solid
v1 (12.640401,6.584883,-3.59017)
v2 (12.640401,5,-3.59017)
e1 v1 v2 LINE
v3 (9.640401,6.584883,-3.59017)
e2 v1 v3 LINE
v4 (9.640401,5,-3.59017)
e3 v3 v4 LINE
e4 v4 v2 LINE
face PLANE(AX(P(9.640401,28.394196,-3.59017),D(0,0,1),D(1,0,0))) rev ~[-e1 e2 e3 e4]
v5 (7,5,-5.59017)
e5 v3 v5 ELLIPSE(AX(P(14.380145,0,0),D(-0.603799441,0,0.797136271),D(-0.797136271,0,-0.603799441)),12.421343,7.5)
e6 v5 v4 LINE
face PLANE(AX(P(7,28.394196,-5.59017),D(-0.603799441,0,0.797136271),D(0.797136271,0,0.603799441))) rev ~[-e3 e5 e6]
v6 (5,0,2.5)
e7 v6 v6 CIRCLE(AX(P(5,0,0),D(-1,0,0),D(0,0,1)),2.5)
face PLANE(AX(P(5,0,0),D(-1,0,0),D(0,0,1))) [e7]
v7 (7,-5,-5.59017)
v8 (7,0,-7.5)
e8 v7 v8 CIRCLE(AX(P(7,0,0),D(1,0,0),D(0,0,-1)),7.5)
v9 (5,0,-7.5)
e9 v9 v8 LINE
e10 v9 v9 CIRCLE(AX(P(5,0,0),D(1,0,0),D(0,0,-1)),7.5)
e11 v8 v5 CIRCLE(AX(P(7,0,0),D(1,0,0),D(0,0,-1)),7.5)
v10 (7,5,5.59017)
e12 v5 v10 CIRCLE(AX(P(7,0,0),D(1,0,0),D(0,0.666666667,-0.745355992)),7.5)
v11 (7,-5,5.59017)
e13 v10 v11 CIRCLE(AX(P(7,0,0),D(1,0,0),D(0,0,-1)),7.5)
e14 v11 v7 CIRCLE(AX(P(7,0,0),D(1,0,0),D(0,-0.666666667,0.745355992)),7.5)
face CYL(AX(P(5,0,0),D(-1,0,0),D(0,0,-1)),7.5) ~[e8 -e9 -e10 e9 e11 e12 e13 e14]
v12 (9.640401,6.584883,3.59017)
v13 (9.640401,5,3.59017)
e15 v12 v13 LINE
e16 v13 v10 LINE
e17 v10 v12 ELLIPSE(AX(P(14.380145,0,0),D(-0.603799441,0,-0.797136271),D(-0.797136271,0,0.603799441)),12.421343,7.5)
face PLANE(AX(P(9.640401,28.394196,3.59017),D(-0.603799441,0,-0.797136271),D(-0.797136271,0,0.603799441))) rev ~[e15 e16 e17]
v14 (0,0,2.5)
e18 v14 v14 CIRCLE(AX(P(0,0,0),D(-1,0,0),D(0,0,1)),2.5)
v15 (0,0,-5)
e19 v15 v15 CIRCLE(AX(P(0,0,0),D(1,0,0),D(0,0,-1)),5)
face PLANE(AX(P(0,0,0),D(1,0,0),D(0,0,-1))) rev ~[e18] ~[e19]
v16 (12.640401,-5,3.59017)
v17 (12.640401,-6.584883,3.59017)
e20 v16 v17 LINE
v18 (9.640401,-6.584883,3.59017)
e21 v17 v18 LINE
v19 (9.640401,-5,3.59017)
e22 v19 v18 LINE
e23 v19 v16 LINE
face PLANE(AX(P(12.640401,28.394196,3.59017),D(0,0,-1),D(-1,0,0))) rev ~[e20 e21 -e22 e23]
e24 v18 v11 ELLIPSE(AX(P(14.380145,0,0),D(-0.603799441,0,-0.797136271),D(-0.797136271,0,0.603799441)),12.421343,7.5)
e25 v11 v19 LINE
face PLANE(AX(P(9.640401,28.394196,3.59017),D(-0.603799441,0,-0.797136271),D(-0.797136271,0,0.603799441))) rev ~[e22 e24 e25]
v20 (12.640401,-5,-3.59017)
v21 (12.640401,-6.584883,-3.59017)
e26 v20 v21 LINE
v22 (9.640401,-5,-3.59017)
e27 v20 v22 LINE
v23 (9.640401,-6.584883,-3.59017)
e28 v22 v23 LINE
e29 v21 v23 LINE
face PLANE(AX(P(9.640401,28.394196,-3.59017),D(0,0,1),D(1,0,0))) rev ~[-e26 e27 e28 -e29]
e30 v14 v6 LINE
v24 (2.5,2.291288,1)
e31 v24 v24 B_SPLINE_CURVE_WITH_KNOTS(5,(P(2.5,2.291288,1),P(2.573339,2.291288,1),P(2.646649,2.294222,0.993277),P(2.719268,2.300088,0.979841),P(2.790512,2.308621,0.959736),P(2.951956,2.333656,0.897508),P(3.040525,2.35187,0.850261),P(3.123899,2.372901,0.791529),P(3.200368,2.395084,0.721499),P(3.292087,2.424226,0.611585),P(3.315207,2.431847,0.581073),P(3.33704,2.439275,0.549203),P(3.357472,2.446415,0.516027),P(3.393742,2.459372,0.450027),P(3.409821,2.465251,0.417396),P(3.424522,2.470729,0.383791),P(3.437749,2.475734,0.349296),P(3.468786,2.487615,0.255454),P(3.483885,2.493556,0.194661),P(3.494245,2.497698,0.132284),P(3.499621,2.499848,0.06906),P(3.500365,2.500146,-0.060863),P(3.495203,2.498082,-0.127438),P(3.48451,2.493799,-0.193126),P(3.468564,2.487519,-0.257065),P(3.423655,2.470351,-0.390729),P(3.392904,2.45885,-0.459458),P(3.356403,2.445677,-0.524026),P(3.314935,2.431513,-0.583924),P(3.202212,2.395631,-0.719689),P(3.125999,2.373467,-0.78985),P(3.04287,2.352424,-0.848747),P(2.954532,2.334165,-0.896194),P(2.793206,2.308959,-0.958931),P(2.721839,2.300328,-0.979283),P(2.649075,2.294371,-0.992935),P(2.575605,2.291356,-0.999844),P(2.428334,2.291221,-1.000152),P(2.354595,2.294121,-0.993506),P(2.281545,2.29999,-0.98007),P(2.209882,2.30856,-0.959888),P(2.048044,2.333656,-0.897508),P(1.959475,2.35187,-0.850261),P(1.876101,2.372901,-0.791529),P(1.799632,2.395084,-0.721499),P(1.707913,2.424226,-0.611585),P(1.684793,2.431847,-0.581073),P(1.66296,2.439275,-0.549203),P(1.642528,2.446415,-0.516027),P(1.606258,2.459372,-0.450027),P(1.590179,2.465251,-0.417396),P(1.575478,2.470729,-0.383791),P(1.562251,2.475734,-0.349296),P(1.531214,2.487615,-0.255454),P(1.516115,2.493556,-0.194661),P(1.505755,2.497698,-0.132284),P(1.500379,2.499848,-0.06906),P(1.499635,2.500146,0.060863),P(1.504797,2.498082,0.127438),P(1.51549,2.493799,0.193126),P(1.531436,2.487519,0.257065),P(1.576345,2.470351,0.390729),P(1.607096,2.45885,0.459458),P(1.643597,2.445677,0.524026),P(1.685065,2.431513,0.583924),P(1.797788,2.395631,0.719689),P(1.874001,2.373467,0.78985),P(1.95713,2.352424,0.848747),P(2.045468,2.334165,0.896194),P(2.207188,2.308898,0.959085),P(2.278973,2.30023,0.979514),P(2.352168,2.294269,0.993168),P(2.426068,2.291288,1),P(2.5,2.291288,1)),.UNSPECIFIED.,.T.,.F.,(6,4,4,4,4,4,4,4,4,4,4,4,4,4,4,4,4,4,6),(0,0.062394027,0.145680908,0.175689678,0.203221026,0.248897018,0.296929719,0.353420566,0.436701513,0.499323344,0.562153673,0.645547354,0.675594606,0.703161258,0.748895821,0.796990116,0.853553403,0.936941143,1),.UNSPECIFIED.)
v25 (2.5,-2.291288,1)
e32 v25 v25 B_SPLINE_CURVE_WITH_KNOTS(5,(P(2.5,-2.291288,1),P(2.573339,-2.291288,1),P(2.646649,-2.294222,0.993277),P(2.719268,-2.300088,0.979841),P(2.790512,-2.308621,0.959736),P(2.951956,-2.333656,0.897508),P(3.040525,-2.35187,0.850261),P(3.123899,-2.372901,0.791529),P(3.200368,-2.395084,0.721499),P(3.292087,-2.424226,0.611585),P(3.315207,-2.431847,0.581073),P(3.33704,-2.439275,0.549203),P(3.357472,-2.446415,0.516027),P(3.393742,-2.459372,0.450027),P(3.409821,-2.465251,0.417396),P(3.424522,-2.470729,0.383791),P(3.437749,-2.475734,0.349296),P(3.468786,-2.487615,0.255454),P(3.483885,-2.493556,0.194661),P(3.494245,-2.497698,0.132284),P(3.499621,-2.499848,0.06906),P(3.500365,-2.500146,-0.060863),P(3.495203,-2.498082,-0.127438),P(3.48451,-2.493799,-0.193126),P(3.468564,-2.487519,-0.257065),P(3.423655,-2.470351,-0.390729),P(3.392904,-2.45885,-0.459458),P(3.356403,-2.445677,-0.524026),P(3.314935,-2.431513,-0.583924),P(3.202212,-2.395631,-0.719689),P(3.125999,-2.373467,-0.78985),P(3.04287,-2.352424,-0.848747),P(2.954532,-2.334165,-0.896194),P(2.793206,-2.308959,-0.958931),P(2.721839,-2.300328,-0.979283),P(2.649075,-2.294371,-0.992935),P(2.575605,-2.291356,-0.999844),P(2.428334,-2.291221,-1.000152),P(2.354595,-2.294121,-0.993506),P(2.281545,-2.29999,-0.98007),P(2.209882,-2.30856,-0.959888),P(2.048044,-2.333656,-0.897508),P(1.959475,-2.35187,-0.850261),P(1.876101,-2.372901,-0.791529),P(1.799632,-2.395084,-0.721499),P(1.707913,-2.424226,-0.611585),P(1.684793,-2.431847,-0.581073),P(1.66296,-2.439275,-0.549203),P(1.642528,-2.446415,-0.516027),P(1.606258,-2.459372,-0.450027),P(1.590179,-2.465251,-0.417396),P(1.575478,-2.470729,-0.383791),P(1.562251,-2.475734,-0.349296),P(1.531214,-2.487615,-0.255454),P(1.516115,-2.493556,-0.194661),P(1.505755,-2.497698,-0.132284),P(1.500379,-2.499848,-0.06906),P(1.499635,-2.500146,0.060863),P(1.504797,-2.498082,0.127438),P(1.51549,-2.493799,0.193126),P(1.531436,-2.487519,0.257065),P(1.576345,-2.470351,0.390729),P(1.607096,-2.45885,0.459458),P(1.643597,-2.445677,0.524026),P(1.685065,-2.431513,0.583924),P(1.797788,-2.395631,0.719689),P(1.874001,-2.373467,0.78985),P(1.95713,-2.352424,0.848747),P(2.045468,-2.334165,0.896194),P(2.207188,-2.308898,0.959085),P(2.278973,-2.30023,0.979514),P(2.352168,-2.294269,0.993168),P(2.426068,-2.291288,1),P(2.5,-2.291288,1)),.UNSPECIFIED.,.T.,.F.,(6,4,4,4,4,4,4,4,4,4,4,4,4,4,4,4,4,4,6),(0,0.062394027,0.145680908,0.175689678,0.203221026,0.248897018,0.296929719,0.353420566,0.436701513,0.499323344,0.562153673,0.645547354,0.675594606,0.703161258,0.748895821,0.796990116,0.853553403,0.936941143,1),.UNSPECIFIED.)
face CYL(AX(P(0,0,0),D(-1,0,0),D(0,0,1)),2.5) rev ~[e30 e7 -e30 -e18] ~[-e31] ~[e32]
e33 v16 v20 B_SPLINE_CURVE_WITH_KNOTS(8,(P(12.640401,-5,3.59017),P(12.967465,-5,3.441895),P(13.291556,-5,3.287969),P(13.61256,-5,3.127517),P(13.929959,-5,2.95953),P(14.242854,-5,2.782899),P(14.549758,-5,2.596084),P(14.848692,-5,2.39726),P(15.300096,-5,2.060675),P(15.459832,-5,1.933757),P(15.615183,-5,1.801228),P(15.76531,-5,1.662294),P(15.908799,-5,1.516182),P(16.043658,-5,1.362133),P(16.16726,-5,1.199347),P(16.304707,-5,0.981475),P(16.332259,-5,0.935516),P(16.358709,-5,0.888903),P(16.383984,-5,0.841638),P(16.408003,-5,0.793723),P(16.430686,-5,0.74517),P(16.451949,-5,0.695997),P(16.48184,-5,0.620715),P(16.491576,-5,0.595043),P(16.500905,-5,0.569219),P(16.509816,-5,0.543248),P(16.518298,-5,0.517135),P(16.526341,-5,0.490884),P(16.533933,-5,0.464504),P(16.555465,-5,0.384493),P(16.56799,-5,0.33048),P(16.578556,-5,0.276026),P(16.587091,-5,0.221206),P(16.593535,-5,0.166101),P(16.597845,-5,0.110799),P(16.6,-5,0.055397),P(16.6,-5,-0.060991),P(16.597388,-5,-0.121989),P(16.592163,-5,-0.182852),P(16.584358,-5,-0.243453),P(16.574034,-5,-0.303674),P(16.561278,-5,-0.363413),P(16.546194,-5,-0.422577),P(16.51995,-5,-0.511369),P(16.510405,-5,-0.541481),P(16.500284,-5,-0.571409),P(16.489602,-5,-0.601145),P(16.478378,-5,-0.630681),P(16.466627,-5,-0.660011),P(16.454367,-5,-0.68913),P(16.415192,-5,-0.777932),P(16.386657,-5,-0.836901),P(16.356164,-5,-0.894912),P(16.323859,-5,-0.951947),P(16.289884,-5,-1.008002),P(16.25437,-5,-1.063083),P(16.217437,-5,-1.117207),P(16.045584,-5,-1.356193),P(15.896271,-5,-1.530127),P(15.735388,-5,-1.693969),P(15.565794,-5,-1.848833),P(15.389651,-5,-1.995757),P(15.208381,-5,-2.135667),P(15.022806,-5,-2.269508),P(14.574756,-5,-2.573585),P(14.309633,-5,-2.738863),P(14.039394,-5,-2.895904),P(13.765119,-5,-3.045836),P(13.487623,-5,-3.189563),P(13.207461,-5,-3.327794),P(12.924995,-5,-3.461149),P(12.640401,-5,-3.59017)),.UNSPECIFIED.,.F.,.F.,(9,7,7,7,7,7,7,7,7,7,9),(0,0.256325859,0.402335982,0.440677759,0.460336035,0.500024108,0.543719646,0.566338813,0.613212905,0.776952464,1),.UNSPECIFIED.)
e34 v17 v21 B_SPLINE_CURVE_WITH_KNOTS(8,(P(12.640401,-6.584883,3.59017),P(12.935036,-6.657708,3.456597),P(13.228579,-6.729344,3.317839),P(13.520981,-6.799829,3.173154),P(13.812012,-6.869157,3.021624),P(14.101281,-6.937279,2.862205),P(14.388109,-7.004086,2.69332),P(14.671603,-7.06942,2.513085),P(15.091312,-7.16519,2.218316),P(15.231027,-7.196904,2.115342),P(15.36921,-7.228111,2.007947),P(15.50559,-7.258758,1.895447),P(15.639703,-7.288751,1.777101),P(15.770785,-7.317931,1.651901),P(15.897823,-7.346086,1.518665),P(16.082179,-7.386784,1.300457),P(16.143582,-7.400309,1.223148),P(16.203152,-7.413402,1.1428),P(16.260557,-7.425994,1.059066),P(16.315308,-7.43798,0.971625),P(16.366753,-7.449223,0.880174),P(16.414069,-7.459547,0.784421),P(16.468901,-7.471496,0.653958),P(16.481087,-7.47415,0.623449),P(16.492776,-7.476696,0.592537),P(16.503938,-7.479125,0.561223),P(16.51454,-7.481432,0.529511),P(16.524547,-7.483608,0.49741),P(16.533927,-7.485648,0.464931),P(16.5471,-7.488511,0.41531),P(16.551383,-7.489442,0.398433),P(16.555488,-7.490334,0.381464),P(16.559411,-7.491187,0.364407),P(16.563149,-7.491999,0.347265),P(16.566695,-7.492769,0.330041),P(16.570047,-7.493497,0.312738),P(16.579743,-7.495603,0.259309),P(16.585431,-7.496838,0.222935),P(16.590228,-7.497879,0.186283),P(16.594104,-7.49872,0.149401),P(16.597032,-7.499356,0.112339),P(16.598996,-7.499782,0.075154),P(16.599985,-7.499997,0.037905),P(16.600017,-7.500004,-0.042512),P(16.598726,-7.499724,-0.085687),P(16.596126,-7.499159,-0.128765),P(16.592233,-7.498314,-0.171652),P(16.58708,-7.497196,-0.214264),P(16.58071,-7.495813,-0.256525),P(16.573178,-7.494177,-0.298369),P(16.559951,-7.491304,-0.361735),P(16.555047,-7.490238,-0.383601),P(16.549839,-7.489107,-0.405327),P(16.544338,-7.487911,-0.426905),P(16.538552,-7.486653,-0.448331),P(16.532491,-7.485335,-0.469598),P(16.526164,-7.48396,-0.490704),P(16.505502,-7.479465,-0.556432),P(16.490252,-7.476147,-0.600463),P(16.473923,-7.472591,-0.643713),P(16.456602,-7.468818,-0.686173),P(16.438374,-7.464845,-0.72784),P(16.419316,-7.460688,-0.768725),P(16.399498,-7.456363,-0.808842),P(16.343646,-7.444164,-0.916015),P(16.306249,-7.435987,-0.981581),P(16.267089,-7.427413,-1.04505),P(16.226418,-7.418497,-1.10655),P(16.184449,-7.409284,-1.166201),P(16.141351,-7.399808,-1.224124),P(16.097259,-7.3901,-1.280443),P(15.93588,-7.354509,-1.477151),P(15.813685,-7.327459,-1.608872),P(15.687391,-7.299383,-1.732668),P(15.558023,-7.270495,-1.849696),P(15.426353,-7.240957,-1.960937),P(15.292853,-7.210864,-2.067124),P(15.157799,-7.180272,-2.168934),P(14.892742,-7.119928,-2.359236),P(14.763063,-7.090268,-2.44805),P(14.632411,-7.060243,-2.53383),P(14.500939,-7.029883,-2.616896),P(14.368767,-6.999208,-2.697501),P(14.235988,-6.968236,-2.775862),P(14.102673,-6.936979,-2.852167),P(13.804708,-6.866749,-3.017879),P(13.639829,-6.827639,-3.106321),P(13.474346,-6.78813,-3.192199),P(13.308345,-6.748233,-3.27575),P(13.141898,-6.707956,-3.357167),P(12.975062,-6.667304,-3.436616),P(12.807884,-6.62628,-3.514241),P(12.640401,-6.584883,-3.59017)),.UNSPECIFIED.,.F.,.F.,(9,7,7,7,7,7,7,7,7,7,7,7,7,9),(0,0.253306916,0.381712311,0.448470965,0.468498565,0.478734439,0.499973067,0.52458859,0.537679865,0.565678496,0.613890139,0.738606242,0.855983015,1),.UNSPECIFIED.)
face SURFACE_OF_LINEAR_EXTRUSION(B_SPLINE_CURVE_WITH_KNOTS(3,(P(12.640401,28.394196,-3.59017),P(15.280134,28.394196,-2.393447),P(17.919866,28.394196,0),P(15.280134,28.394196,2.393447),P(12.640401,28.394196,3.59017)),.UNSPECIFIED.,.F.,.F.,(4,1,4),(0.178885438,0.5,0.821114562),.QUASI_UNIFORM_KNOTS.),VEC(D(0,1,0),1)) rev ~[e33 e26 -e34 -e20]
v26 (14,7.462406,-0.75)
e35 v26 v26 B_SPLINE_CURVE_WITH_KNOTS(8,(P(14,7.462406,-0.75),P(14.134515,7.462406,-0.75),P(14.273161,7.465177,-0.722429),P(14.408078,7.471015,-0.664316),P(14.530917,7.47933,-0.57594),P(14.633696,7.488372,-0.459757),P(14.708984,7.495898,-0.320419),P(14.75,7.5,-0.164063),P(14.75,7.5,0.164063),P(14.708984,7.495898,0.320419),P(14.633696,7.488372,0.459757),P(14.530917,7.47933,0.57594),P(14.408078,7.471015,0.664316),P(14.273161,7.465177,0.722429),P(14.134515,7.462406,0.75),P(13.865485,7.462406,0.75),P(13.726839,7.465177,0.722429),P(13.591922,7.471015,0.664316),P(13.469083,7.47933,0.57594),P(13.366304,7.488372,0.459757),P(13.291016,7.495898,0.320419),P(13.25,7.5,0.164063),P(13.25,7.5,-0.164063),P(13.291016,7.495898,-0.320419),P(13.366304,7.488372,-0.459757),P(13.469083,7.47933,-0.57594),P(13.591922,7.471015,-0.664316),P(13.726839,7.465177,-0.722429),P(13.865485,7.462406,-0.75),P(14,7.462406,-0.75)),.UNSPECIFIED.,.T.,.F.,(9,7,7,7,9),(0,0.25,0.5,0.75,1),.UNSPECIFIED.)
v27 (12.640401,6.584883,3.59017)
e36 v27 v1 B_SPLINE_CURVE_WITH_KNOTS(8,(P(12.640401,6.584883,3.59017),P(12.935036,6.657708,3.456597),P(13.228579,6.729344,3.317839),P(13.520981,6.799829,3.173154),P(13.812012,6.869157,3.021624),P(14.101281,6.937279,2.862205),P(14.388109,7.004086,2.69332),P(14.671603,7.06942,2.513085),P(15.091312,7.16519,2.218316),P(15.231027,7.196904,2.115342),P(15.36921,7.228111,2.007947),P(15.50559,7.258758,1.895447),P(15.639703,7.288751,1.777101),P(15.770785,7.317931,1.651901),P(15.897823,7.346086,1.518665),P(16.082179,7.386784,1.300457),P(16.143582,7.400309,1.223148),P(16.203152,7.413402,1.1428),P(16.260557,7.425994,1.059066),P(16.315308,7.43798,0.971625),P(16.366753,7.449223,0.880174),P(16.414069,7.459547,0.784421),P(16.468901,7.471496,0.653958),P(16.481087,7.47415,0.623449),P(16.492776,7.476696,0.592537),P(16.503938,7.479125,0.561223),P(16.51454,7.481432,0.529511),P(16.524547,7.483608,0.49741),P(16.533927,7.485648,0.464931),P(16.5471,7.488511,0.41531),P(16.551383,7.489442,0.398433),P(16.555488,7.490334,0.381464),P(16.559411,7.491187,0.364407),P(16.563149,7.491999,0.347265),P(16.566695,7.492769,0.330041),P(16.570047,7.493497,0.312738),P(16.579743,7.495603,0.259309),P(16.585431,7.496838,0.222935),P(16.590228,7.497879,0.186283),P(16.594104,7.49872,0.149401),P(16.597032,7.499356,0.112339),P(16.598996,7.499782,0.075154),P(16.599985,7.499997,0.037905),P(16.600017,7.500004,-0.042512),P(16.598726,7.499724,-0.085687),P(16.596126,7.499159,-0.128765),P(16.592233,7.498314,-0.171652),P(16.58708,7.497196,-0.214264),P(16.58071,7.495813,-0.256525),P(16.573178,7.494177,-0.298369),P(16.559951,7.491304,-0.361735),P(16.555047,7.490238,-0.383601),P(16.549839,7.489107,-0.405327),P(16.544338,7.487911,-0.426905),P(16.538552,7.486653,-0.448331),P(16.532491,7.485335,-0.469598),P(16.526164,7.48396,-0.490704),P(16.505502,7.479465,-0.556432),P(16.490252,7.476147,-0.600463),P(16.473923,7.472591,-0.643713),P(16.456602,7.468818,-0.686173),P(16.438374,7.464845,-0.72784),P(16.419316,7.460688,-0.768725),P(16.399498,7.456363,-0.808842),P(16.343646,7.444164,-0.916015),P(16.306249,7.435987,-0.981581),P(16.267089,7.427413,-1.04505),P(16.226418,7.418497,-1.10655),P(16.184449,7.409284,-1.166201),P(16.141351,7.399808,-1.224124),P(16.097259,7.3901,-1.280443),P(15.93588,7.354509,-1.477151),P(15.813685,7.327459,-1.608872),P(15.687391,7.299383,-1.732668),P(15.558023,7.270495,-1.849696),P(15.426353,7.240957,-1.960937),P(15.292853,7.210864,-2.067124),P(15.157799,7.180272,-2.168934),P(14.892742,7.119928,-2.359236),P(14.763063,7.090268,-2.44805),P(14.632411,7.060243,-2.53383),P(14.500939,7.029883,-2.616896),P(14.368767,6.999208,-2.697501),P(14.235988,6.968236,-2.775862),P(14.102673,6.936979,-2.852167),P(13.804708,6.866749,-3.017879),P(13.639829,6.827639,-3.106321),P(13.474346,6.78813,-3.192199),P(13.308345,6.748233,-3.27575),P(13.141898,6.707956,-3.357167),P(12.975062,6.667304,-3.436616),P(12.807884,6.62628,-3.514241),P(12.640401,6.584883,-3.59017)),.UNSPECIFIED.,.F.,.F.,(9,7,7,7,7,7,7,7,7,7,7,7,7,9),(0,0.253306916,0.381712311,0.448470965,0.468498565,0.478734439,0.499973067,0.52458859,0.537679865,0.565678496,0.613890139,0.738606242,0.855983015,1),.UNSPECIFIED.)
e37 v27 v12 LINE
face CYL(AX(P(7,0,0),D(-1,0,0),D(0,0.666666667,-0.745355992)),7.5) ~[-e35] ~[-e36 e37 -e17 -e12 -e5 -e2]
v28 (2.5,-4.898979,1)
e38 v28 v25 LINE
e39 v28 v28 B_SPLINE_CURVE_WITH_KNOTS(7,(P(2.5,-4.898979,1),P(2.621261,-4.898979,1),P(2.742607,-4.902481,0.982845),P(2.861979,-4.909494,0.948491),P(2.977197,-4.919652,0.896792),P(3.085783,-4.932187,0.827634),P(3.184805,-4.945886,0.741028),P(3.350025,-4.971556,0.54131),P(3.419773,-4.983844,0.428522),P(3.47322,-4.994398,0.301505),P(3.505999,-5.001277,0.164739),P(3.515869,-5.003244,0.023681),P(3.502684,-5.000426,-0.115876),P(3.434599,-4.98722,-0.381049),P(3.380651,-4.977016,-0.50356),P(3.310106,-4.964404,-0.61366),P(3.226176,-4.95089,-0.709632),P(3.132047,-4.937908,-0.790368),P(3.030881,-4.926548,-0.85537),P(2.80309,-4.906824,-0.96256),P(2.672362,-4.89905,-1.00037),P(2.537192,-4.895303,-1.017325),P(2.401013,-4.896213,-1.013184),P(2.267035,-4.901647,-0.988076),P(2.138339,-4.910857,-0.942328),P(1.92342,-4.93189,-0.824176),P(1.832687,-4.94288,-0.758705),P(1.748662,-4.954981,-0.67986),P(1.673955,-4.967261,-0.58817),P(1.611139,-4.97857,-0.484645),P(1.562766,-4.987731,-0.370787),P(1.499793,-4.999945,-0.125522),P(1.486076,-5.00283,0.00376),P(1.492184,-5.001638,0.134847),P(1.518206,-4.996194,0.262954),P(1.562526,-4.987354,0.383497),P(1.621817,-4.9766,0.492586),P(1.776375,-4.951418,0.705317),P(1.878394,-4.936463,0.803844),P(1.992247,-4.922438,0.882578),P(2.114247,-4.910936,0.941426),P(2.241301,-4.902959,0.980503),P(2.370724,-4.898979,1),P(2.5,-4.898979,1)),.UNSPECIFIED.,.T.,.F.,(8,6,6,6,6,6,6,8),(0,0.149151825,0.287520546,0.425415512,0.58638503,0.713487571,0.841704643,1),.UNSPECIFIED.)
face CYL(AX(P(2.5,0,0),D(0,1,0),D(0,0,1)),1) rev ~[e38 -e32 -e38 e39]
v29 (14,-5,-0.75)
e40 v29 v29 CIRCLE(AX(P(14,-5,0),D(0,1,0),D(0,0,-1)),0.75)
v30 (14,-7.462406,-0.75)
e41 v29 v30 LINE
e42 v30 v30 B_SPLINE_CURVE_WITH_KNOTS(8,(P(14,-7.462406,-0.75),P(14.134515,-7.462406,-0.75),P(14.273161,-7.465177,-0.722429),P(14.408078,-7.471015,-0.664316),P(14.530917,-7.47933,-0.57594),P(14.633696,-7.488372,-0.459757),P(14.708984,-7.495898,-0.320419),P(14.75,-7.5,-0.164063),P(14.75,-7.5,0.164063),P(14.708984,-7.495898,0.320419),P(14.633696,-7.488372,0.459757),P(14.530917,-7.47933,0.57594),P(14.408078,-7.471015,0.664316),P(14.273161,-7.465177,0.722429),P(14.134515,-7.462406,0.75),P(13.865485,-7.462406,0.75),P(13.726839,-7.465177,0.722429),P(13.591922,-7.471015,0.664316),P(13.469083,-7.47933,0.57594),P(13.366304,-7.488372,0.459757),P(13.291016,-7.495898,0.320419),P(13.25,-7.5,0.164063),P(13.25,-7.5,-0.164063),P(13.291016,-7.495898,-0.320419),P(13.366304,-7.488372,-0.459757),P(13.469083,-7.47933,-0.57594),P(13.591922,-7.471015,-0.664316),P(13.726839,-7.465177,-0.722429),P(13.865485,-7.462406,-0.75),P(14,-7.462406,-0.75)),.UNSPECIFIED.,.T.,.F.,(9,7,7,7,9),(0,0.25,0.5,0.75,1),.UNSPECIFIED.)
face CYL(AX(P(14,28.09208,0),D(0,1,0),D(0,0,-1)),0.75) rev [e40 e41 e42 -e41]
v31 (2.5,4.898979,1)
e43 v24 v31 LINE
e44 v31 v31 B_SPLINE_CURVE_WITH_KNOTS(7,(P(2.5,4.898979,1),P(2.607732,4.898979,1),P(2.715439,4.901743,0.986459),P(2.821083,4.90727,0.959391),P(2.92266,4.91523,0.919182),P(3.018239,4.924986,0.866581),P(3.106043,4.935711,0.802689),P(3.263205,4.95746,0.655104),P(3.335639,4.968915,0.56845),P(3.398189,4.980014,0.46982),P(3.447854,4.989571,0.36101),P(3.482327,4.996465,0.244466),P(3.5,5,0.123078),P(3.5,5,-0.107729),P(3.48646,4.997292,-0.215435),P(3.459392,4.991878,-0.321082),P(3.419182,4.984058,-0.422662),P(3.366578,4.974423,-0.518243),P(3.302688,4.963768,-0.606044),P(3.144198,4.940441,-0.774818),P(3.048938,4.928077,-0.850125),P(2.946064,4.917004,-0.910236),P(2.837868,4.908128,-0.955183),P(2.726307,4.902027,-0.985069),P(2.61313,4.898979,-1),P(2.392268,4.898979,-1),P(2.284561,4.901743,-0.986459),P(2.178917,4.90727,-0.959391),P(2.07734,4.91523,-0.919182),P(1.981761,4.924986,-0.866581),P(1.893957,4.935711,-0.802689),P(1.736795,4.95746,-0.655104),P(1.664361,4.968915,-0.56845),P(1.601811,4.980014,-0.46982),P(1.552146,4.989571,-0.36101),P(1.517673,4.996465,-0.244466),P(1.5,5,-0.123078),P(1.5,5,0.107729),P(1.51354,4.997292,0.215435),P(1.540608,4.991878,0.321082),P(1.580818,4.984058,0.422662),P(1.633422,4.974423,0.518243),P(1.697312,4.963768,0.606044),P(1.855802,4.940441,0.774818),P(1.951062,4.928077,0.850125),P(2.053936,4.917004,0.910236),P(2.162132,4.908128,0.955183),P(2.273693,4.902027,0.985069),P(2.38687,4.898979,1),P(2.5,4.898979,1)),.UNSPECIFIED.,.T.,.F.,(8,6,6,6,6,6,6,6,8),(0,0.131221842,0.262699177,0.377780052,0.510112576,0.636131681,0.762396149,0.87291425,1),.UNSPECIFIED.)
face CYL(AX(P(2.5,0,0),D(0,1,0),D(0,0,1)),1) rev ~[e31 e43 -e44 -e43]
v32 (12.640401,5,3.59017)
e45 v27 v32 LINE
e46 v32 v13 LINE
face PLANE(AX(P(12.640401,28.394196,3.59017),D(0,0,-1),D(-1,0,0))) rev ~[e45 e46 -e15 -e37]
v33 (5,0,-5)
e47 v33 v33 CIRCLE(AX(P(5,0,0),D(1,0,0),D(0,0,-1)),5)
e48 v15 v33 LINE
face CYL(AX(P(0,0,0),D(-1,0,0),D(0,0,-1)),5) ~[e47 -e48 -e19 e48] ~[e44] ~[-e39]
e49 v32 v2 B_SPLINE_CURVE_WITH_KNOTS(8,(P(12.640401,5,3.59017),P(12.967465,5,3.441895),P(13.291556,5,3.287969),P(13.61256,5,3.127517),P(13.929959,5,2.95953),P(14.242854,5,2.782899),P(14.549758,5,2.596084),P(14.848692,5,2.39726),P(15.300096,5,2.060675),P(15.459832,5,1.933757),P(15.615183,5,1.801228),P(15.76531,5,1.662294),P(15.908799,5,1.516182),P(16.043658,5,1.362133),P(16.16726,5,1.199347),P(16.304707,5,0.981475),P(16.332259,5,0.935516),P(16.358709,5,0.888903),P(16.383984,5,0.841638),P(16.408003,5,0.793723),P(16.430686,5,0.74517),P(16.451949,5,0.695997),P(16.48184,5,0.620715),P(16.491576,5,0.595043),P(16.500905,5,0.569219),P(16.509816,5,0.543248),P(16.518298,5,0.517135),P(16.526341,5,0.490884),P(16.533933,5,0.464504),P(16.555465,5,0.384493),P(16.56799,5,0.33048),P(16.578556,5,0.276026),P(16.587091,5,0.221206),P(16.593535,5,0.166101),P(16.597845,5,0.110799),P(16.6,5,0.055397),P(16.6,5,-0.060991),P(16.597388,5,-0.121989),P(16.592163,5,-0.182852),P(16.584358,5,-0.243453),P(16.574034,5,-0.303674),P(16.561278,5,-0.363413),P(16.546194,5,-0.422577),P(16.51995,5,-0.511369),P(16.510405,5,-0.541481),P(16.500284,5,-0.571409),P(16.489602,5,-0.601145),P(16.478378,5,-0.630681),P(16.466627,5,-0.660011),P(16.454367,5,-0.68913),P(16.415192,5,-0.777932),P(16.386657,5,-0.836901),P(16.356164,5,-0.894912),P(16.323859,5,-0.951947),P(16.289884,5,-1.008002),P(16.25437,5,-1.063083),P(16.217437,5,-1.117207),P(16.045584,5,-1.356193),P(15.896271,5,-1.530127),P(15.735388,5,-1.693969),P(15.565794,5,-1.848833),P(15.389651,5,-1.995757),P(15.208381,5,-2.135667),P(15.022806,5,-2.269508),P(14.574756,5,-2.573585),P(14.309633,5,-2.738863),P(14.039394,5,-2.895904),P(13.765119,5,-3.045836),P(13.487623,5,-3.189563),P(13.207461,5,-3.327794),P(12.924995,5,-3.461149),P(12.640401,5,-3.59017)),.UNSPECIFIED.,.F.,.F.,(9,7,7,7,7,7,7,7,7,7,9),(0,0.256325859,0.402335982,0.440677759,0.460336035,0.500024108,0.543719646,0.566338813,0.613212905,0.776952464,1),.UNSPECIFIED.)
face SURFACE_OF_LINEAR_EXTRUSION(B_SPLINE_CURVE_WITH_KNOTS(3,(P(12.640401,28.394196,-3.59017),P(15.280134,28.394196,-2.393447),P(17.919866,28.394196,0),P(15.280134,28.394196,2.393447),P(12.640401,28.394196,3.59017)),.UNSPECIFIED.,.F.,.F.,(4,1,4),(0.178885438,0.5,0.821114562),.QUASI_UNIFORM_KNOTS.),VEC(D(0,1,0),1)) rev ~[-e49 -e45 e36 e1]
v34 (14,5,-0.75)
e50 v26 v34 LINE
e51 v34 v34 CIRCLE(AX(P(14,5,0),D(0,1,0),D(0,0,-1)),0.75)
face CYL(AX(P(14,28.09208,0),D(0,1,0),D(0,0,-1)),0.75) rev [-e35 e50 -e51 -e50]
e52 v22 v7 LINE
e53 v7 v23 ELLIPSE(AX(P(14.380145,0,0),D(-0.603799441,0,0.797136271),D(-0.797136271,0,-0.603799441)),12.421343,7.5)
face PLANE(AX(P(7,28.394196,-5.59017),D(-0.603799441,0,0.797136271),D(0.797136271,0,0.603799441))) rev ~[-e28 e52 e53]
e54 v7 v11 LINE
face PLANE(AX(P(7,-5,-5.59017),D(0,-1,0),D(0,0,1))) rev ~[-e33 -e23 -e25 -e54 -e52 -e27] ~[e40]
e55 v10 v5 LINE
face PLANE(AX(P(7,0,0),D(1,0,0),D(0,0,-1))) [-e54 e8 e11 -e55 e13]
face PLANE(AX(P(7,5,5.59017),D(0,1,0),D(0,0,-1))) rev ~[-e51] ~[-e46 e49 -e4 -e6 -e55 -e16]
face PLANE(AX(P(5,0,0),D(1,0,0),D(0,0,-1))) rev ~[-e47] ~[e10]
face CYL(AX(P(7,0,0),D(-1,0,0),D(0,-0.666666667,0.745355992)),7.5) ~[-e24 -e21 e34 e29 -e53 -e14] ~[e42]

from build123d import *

# Parameters (mm, degrees)
SKETCH1_R               = 5
BOSS_EXTRUDE1_DEPTH     = 5
SKETCH2_R               = 7.5
BOSS_EXTRUDE2_DEPTH     = 2
BOSS_EXTRUDE3_DEPTH     = 10
CUT_EXTRUDE1_DEPTH      = 23.394195677
CUT_EXTRUDE1_DEPTH_BACK = 23.394195677
CUT_EXTRUDE2_DEPTH      = 23.092080194
CUT_EXTRUDE2_DEPTH_BACK = 23.092080194
SKETCH5_R               = 0.75
SKETCH6_R               = 2.5
CUT_EXTRUDE3_DEPTH      = 5
SKETCH7_R               = 1
CUT_EXTRUDE4_DEPTH      = 10


with BuildPart() as part:
    # Sketch1 → Boss-Extrude1 (new body)
    with BuildSketch(Plane(origin=(0, 0, 0), x_dir=(0, 0, -1), z_dir=(1, 0, 0))):
        Circle(SKETCH1_R)
    extrude(amount=BOSS_EXTRUDE1_DEPTH)

    # Sketch2 → Boss-Extrude2 (add)
    with BuildSketch(Plane(origin=(5, 0, 0), x_dir=(0, 0, -1), z_dir=(1, 0, 0))):
        Circle(SKETCH2_R)
    extrude(amount=BOSS_EXTRUDE2_DEPTH)

    # Sketch3 → Boss-Extrude3 (add)
    with BuildSketch(Plane(origin=(7, 0, 0), x_dir=(0, 0, -1), z_dir=(1, 0, 0))):
        with BuildLine():
            ThreePointArc((5.590169944, 5), (0, 7.5), (-5.590169944, 5))
            Line((-5.590169944, 5), (-4.898979486, 5))
            Line((-4.898979486, 5), (4.898979486, 5))
            Line((4.898979486, 5), (5.590169944, 5))
        make_face()
        with BuildLine():
            Line((-4.898979486, -5), (-5.590169944, -5))
            ThreePointArc((-5.590169944, -5), (0, -7.5), (5.590169944, -5))
            Line((5.590169944, -5), (4.898979486, -5))
            Line((4.898979486, -5), (-4.898979486, -5))
        make_face()
    extrude(amount=BOSS_EXTRUDE3_DEPTH)

    # Sketch4 → Cut-Extrude1 (cut, two sides: drawn at the far end of the back side and taken through both)
    with BuildSketch(Plane.XZ.offset(-5).offset(-CUT_EXTRUDE1_DEPTH_BACK)):
        with BuildLine():
            Line((7, 5.590169944), (17, 5.590169944))
            Line((17, 5.590169944), (17, -5.590169944))
            Line((17, -5.590169944), (7, -5.590169944))
            Line((7, -5.590169944), (9.640400827, -3.590169944))
            Line((9.640400827, -3.590169944), (12.640400827, -3.590169944))
            add(Edge.make_bspline(
                [(12.640400827, -3.590169944), (15.280133609, -2.393446629), (17.919866391, 0), (15.280133609, 2.393446629), (12.640400827, 3.590169944)],
                knots=[0.178885438, 0.178885438, 0.178885438, 0.178885438, 0.5, 0.821114562, 0.821114562, 0.821114562, 0.821114562], degree=3))
            Line((12.640400827, 3.590169944), (9.640400827, 3.590169944))
            Line((9.640400827, 3.590169944), (7, 5.590169944))
        make_face()
    extrude(amount=CUT_EXTRUDE1_DEPTH + CUT_EXTRUDE1_DEPTH_BACK, mode=Mode.SUBTRACT)

    # Sketch5 → Cut-Extrude2 (cut, two sides: drawn at the far end of the back side and taken through both)
    with BuildSketch(Plane.XZ.offset(-5).offset(-CUT_EXTRUDE2_DEPTH_BACK)):
        with Locations(Location((14, 0, 0), (0, 0, 270))):
            Circle(SKETCH5_R)
    extrude(amount=CUT_EXTRUDE2_DEPTH + CUT_EXTRUDE2_DEPTH_BACK, mode=Mode.SUBTRACT)

    # Sketch6 → Cut-Extrude3 (cut)
    with BuildSketch(Plane.ZY):
        Circle(SKETCH6_R)
    extrude(amount=-CUT_EXTRUDE3_DEPTH, mode=Mode.SUBTRACT)

    # Sketch7 → Cut-Extrude4 (cut, symmetric)
    with BuildSketch(Plane(origin=(0, 0, 0), x_dir=(1, 0, 0), z_dir=(0, 1, 0))):
        with Locations(Location((2.5, 0, 0), (0, 0, 270))):
            Circle(SKETCH7_R)
    extrude(amount=CUT_EXTRUDE4_DEPTH, both=True, mode=Mode.SUBTRACT)


solid = part.part
